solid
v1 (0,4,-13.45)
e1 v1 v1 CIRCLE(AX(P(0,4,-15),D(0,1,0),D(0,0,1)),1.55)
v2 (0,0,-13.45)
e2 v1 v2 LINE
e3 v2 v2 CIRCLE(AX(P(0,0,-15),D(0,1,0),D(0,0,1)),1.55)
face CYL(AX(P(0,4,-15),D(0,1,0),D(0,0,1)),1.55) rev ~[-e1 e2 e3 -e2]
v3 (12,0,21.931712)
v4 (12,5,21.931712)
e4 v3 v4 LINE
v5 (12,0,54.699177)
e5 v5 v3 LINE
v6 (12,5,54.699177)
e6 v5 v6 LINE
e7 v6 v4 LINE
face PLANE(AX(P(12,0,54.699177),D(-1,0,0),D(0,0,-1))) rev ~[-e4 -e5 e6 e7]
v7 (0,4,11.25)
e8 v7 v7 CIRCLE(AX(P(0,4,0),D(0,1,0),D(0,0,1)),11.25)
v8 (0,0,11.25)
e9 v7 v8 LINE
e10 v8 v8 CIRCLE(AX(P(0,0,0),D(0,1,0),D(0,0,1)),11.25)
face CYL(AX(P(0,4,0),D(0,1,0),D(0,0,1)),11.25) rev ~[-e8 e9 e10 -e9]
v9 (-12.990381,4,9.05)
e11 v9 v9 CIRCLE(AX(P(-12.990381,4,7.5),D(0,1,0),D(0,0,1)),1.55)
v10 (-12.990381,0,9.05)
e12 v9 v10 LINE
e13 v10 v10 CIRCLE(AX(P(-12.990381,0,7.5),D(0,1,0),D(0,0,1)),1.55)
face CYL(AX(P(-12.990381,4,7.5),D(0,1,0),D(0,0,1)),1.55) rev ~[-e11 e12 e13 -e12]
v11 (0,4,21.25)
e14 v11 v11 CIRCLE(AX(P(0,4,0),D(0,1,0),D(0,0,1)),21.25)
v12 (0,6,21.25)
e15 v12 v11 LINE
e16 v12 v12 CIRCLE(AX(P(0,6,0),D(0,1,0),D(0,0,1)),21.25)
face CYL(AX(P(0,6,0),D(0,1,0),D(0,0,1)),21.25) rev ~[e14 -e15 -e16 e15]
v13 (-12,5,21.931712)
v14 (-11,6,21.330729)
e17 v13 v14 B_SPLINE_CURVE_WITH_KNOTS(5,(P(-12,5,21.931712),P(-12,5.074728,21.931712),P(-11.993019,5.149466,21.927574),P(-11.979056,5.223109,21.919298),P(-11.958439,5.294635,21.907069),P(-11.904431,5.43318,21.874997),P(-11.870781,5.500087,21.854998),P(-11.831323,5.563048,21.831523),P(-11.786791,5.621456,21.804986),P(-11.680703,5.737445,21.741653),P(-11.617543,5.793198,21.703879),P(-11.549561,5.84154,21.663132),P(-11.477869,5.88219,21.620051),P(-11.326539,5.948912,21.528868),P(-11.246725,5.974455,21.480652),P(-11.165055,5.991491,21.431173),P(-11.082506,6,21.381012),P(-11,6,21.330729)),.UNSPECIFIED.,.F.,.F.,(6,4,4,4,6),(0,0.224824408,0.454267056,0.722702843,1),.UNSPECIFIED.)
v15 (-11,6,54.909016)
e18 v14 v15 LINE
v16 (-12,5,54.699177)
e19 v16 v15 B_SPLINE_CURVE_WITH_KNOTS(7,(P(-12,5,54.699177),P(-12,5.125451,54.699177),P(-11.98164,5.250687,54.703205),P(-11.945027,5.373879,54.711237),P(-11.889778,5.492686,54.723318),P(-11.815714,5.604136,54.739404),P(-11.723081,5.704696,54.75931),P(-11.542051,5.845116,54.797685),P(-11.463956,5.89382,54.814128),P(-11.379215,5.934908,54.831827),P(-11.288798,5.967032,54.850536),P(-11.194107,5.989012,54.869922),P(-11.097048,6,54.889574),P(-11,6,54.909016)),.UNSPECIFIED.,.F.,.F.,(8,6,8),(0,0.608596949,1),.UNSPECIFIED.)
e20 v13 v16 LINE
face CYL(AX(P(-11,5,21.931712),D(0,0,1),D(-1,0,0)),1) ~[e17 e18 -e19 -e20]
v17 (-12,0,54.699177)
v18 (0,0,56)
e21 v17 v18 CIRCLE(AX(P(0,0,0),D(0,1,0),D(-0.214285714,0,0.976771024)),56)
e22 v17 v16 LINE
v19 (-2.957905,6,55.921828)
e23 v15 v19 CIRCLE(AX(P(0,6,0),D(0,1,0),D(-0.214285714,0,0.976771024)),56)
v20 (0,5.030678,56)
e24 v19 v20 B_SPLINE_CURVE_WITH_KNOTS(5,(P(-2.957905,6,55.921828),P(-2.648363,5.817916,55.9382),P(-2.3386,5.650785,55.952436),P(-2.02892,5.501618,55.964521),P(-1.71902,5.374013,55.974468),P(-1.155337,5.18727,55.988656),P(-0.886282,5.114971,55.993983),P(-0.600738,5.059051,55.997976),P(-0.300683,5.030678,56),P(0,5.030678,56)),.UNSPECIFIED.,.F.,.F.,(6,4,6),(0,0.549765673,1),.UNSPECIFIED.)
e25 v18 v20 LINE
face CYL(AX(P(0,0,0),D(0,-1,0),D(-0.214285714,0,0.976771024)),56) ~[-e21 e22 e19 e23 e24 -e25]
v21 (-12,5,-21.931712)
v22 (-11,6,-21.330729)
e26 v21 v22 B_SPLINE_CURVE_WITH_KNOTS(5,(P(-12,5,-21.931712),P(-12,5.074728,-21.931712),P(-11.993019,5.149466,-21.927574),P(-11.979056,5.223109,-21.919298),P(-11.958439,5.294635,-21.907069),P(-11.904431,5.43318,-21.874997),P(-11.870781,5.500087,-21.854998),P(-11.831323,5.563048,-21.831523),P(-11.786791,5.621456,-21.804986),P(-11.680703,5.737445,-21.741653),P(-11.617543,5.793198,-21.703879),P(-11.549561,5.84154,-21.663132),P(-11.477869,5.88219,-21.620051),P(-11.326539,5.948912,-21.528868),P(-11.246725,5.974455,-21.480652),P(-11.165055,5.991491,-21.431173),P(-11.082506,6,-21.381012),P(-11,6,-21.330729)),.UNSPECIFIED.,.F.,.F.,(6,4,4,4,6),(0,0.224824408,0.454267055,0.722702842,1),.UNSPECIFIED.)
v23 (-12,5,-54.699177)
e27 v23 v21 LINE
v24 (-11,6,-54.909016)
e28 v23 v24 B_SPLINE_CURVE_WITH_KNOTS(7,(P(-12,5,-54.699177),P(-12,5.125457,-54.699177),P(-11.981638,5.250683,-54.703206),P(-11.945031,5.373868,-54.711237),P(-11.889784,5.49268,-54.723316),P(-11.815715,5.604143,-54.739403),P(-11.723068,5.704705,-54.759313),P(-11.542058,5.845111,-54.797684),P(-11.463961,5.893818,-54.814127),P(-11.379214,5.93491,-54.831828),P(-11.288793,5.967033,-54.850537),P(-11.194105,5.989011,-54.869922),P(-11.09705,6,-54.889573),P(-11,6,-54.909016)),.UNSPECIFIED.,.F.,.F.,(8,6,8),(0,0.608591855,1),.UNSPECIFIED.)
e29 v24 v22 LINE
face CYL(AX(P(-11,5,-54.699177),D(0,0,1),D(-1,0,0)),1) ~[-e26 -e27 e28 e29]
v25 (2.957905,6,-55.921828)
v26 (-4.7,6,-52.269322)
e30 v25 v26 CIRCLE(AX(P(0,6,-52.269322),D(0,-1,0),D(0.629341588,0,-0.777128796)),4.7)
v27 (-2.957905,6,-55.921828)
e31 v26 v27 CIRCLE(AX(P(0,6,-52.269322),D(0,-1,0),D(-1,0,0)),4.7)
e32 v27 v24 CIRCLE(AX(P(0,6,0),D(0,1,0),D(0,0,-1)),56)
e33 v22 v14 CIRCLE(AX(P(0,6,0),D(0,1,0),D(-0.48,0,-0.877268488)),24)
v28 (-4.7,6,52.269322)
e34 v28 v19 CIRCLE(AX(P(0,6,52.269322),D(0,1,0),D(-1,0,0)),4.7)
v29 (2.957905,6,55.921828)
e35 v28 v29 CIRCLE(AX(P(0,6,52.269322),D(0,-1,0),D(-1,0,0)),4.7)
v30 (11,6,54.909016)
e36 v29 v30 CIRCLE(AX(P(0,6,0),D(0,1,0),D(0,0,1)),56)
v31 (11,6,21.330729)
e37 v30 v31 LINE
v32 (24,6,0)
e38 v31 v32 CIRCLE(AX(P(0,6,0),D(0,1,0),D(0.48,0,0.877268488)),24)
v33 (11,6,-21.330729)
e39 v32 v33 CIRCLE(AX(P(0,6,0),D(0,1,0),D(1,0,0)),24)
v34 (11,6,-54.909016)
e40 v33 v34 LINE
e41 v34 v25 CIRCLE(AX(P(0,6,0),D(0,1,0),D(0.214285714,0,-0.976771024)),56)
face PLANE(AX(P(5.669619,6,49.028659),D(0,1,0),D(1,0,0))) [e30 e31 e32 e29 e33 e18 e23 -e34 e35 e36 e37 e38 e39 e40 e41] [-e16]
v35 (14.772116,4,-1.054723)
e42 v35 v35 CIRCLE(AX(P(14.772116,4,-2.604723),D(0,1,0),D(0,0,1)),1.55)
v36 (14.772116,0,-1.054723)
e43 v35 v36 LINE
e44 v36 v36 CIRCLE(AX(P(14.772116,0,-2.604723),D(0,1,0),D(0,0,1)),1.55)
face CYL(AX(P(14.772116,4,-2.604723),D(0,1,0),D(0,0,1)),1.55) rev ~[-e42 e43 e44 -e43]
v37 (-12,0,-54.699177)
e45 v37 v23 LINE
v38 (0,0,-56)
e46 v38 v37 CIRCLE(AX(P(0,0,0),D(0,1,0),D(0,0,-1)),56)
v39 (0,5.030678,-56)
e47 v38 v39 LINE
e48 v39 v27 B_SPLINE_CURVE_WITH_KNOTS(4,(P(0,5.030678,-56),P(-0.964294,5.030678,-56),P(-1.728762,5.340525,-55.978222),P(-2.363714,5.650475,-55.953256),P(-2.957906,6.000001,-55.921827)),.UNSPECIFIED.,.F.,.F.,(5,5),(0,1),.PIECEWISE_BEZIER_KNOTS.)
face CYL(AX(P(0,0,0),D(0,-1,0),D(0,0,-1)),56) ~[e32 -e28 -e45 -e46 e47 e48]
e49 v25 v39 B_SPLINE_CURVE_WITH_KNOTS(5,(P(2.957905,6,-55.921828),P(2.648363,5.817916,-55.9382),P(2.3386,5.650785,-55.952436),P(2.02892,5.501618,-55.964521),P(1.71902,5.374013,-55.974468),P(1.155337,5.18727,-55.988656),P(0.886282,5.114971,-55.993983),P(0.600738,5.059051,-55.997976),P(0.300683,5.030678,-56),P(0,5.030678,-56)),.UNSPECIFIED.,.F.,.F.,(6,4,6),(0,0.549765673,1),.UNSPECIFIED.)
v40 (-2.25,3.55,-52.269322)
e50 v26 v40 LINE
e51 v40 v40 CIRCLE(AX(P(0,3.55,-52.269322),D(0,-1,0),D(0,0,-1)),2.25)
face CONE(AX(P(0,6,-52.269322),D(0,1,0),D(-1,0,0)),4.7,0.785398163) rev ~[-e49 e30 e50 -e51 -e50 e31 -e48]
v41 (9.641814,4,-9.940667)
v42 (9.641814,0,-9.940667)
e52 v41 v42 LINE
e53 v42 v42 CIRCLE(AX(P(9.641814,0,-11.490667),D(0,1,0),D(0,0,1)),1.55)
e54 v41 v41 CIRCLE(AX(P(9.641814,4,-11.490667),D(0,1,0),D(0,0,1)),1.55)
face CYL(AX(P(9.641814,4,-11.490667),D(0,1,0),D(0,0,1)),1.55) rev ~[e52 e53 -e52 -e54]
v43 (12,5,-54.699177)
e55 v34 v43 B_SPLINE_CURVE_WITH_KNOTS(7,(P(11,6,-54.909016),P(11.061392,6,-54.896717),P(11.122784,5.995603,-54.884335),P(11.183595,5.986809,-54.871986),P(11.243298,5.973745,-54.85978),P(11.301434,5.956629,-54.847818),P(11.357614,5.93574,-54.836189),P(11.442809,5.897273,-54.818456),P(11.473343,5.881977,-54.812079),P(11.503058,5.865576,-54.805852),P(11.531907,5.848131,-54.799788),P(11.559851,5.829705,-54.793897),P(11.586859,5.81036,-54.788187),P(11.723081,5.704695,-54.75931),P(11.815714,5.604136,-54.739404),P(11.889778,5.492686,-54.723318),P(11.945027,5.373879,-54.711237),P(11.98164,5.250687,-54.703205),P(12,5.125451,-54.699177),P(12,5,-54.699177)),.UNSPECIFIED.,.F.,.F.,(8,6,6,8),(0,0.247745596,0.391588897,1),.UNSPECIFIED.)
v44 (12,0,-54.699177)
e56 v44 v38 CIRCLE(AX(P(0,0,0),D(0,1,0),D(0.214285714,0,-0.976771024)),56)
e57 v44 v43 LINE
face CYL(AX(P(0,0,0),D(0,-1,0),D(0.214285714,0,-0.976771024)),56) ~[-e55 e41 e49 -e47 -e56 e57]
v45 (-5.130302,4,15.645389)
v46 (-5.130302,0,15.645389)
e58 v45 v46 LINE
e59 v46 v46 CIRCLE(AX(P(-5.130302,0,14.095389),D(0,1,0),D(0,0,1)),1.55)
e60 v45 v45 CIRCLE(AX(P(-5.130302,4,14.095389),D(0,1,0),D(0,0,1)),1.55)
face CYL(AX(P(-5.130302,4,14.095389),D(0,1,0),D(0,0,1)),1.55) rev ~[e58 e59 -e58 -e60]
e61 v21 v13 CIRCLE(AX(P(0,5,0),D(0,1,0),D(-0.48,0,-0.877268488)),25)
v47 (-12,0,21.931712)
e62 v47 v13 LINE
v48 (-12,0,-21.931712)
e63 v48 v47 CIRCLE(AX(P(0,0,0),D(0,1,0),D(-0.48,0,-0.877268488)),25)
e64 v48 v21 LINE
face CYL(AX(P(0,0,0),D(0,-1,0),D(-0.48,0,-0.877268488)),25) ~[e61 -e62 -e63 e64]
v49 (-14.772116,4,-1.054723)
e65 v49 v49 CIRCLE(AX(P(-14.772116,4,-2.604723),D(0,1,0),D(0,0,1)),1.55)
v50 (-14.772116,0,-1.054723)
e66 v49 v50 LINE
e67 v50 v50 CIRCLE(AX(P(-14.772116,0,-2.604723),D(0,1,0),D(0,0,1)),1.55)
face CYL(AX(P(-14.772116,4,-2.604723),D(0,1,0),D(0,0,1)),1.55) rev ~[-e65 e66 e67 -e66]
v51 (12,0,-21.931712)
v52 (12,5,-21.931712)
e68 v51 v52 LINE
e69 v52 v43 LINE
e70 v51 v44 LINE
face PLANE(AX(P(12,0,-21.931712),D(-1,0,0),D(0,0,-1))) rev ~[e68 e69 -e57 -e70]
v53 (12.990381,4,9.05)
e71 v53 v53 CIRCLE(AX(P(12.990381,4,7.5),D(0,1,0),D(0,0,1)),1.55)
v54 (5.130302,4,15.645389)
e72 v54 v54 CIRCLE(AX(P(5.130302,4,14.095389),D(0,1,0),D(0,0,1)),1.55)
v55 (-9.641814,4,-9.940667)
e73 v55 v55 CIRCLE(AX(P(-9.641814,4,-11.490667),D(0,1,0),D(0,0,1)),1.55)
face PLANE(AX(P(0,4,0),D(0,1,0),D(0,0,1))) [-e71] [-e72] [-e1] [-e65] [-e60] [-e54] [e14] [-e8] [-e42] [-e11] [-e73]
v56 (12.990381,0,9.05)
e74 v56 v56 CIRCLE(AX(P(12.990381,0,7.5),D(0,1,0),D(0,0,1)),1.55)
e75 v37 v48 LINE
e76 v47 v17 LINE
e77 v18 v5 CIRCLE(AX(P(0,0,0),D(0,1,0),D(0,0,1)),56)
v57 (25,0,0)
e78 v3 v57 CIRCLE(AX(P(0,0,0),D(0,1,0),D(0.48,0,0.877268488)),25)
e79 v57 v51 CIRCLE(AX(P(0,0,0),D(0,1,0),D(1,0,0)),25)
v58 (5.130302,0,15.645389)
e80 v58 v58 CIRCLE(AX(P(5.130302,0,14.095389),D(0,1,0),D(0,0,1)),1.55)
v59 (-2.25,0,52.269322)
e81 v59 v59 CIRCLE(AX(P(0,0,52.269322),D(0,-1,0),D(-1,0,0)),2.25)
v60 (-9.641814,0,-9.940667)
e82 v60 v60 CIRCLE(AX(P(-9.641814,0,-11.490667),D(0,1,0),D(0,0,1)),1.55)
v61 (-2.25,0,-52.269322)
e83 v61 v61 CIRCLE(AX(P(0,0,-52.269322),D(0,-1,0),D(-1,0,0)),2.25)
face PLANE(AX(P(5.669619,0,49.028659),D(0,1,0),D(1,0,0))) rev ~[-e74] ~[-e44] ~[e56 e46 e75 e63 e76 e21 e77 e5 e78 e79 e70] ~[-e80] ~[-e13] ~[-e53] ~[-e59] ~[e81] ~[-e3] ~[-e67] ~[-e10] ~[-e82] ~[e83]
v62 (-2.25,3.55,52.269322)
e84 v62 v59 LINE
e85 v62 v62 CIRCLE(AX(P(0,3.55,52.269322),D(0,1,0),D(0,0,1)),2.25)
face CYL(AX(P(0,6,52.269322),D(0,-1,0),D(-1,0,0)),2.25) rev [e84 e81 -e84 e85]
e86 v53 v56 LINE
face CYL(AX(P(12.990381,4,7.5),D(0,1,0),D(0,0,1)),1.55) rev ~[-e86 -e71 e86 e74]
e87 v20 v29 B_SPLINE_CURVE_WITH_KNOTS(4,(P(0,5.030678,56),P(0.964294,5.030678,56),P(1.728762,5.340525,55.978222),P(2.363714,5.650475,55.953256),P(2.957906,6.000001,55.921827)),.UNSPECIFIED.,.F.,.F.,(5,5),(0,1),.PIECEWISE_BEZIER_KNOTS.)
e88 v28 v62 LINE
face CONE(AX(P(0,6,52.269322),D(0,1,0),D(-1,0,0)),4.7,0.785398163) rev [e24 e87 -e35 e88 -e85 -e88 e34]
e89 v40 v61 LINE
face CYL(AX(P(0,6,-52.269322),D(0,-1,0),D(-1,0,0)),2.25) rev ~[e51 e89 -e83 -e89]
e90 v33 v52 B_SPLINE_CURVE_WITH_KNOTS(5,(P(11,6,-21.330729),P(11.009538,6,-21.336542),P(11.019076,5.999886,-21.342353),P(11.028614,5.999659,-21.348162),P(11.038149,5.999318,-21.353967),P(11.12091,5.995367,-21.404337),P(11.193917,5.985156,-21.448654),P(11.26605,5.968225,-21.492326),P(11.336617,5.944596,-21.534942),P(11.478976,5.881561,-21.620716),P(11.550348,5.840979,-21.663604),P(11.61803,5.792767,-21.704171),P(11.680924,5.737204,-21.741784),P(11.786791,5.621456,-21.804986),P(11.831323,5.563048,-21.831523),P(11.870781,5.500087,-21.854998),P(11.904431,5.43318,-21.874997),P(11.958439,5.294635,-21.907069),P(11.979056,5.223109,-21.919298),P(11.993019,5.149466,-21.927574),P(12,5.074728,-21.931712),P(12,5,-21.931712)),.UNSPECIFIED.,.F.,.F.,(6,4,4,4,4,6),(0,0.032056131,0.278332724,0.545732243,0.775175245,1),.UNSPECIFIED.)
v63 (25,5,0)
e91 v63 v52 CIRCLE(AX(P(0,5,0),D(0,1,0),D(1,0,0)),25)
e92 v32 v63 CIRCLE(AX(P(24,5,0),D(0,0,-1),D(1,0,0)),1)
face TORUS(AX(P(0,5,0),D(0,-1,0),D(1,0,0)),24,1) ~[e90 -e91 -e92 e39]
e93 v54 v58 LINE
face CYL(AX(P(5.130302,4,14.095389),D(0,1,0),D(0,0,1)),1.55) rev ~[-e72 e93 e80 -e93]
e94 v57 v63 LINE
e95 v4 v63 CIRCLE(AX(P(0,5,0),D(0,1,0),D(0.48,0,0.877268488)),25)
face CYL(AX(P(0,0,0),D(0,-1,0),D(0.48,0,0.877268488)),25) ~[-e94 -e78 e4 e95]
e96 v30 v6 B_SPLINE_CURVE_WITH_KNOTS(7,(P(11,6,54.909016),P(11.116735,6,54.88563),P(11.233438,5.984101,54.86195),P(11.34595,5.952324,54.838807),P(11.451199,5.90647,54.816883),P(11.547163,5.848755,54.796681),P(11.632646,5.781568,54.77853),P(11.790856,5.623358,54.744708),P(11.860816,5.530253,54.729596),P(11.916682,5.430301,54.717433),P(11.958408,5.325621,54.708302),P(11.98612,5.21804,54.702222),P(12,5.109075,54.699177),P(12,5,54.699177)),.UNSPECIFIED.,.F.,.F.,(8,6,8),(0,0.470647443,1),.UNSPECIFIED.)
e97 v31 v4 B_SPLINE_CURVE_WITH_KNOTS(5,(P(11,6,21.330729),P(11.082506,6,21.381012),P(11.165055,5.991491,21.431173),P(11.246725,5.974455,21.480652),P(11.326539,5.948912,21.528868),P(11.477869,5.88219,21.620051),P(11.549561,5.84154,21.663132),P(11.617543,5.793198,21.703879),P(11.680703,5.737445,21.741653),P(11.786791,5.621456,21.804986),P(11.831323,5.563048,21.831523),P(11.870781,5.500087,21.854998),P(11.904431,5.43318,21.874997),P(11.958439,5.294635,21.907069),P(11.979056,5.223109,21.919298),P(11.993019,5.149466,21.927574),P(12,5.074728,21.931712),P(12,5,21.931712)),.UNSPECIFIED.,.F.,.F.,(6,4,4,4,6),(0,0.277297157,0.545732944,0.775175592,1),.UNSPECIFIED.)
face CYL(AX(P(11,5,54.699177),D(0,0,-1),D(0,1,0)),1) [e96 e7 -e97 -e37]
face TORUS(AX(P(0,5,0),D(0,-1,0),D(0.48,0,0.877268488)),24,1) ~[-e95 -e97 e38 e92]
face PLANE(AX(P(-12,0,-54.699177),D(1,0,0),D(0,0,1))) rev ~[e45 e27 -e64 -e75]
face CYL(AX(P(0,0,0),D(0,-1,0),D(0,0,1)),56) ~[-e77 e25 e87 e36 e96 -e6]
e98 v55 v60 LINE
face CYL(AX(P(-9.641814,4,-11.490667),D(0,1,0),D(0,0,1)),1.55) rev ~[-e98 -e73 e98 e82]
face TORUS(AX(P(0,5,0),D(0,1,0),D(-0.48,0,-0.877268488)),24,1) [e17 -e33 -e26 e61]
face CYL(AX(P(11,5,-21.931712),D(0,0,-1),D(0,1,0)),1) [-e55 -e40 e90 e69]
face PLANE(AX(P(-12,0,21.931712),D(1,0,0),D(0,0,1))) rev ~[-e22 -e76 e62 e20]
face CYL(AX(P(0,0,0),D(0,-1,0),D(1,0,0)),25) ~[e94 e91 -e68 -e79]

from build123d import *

# Parameters (mm, degrees)
BOSS_EXTRUDE2_DEPTH                             = 6
CSK_FOR_M4_FLAT_HEAD_MACHINE_SCREW1_D           = 4.5
CSK_FOR_M4_FLAT_HEAD_MACHINE_SCREW1_CSINK_D     = 9.4
CSK_FOR_M4_FLAT_HEAD_MACHINE_SCREW1_CSINK_ANGLE = 90
SKETCH7_R                                       = 21.25
CUT_EXTRUDE2_DEPTH                              = 2
SKETCH8_R                                       = 11.25
CUT_EXTRUDE3_DEPTH                              = 62.457302349
SKETCH9_R                                       = 1.55
CUT_EXTRUDE4_DEPTH                              = 62.457302349
FILLET1_R                                       = 1


with BuildPart() as part:
    # Sketch2 → Boss-Extrude2 (new body)
    with BuildSketch(Plane(origin=(0, 0, 0), x_dir=(1, 0, 0), z_dir=(0, 1, 0))):
        with BuildLine():
            ThreePointArc((0, -50), (-6.044327096, -49.633316532), (-12, -48.538644398))
            Line((-12, -48.538644398), (-12, -54.699177325))
            ThreePointArc((-12, -54.699177325), (-6.035149949, -55.673844533), (0, -56))
            Line((0, -56), (0, -54.269322199))
            ThreePointArc((0, -54.269322199), (-2, -52.269322199), (0, -50.269322199))
            Line((0, -50.269322199), (0, -50))
        make_face()
        with BuildLine():
            ThreePointArc((2, -52.269322199), (1.414213562, -50.855108637), (0, -50.269322199))
            Line((0, -50.269322199), (0, -54.269322199))
            ThreePointArc((0, -54.269322199), (1.414213562, -53.683535761), (2, -52.269322199))
        make_face()
        with BuildLine():
            Line((0, -54.269322199), (0, -50.269322199))
            ThreePointArc((0, -50.269322199), (-2, -52.269322199), (0, -54.269322199))
        make_face()
        with BuildLine():
            ThreePointArc((2, -52.269322199), (1.414213562, -50.855108637), (0, -50.269322199))
            Line((0, -50.269322199), (0, -54.269322199))
            ThreePointArc((0, -54.269322199), (1.414213562, -53.683535761), (2, -52.269322199))
        make_face()
        with BuildLine():
            Line((0, -54.269322199), (0, -50.269322199))
            ThreePointArc((0, -50.269322199), (-2, -52.269322199), (0, -54.269322199))
        make_face()
        with BuildLine():
            Line((12, -54.699177325), (12, -48.538644398))
            ThreePointArc((12, -48.538644398), (6.044327096, -49.633316532), (0, -50))
            Line((0, -50), (0, -50.269322199))
            ThreePointArc((0, -50.269322199), (1.414213562, -50.855108637), (2, -52.269322199))
            ThreePointArc((2, -52.269322199), (1.414213562, -53.683535761), (0, -54.269322199))
            Line((0, -54.269322199), (0, -56))
            ThreePointArc((0, -56), (6.035149949, -55.673844533), (12, -54.699177325))
        make_face()
        with BuildLine():
            Line((0, -48.538644398), (-12, -48.538644398))
            ThreePointArc((-12, -48.538644398), (-6.044327096, -49.633316532), (0, -50))
            Line((0, -50), (0, -48.538644398))
        make_face()
        with BuildLine():
            Line((12, -48.538644398), (0, -48.538644398))
            Line((0, -48.538644398), (0, -50))
            ThreePointArc((0, -50), (6.044327096, -49.633316532), (12, -48.538644398))
        make_face()
        with BuildLine():
            ThreePointArc((0, -25), (-6.193028137, -24.220784514), (-12, -21.931712199))
            Line((-12, -21.931712199), (-12, -48.538644398))
            Line((-12, -48.538644398), (0, -48.538644398))
            Line((0, -48.538644398), (0, -25))
        make_face()
        with BuildLine():
            ThreePointArc((12, -21.931712199), (6.193028137, -24.220784514), (0, -25))
            Line((0, -25), (0, -48.538644398))
            Line((0, -48.538644398), (12, -48.538644398))
            Line((12, -48.538644398), (12, -21.931712199))
        make_face()
        with BuildLine():
            Line((0, -48.538644398), (-12, -48.538644398))
            ThreePointArc((-12, -48.538644398), (-6.044327096, -49.633316532), (0, -50))
            Line((0, -50), (0, -48.538644398))
        make_face()
        with BuildLine():
            Line((12, -48.538644398), (0, -48.538644398))
            Line((0, -48.538644398), (0, -50))
            ThreePointArc((0, -50), (6.044327096, -49.633316532), (12, -48.538644398))
        make_face()
        with BuildLine():
            ThreePointArc((-12, 48.538644398), (-6.044327096, 49.633316532), (0, 50))
            Line((0, 50), (0, 50.269322199))
            ThreePointArc((0, 50.269322199), (-2, 52.269322199), (0, 54.269322199))
            Line((0, 54.269322199), (0, 56))
            ThreePointArc((0, 56), (-6.035149949, 55.673844533), (-12, 54.699177325))
            Line((-12, 54.699177325), (-12, 48.538644398))
        make_face()
        with BuildLine():
            ThreePointArc((0, 54.269322199), (-2, 52.269322199), (0, 50.269322199))
            Line((0, 50.269322199), (0, 54.269322199))
        make_face()
        with BuildLine():
            Line((0, 54.269322199), (0, 50.269322199))
            ThreePointArc((0, 50.269322199), (1.414213562, 50.855108637), (2, 52.269322199))
            ThreePointArc((2, 52.269322199), (1.414213562, 53.683535761), (0, 54.269322199))
        make_face()
        with BuildLine():
            ThreePointArc((0, 54.269322199), (-2, 52.269322199), (0, 50.269322199))
            Line((0, 50.269322199), (0, 54.269322199))
        make_face()
        with BuildLine():
            Line((0, 54.269322199), (0, 50.269322199))
            ThreePointArc((0, 50.269322199), (1.414213562, 50.855108637), (2, 52.269322199))
            ThreePointArc((2, 52.269322199), (1.414213562, 53.683535761), (0, 54.269322199))
        make_face()
        with BuildLine():
            Line((0, 50.269322199), (0, 50))
            ThreePointArc((0, 50), (6.044327096, 49.633316532), (12, 48.538644398))
            Line((12, 48.538644398), (12, 54.699177325))
            ThreePointArc((12, 54.699177325), (6.035149949, 55.673844533), (0, 56))
            Line((0, 56), (0, 54.269322199))
            ThreePointArc((0, 54.269322199), (1.414213562, 53.683535761), (2, 52.269322199))
            ThreePointArc((2, 52.269322199), (1.414213562, 50.855108637), (0, 50.269322199))
        make_face()
        with BuildLine():
            Line((-12, 48.538644398), (0, 48.538644398))
            Line((0, 48.538644398), (0, 50))
            ThreePointArc((0, 50), (-6.044327096, 49.633316532), (-12, 48.538644398))
        make_face()
        with BuildLine():
            Line((0, 50), (0, 48.538644398))
            Line((0, 48.538644398), (12, 48.538644398))
            ThreePointArc((12, 48.538644398), (6.044327096, 49.633316532), (0, 50))
        make_face()
        with BuildLine():
            Line((-12, 48.538644398), (0, 48.538644398))
            Line((0, 48.538644398), (0, 50))
            ThreePointArc((0, 50), (-6.044327096, 49.633316532), (-12, 48.538644398))
        make_face()
        with BuildLine():
            Line((0, 50), (0, 48.538644398))
            Line((0, 48.538644398), (12, 48.538644398))
            ThreePointArc((12, 48.538644398), (6.044327096, 49.633316532), (0, 50))
        make_face()
        with BuildLine():
            Line((0, 25), (0, 48.538644398))
            Line((0, 48.538644398), (-12, 48.538644398))
            Line((-12, 48.538644398), (-12, 21.931712199))
            ThreePointArc((-12, 21.931712199), (-6.193028137, 24.220784514), (0, 25))
        make_face()
        with BuildLine():
            Line((12, 48.538644398), (0, 48.538644398))
            Line((0, 48.538644398), (0, 25))
            ThreePointArc((0, 25), (6.193028137, 24.220784514), (12, 21.931712199))
            Line((12, 21.931712199), (12, 48.538644398))
        make_face()
        with BuildLine():
            ThreePointArc((12, 21.931712199), (6.193028137, 24.220784514), (0, 25))
            Line((0, 25), (0, 21.25))
            ThreePointArc((0, 21.25), (15.0260191, 15.0260191), (21.25, 0))
            ThreePointArc((21.25, 0), (15.0260191, -15.0260191), (0, -21.25))
            Line((0, -21.25), (0, -25))
            ThreePointArc((0, -25), (6.193028137, -24.220784514), (12, -21.931712199))
            ThreePointArc((12, -21.931712199), (21.505813168, -12.747548784), (25, 0))
            ThreePointArc((25, 0), (21.505813168, 12.747548784), (12, 21.931712199))
        make_face()
        with BuildLine():
            Line((0, 21.25), (0, 25))
            ThreePointArc((0, 25), (-6.193028137, 24.220784514), (-12, 21.931712199))
            ThreePointArc((-12, 21.931712199), (-25, 0), (-12, -21.931712199))
            ThreePointArc((-12, -21.931712199), (-6.193028137, -24.220784514), (0, -25))
            Line((0, -25), (0, -21.25))
            ThreePointArc((0, -21.25), (-21.25, 0), (0, 21.25))
        make_face()
        with BuildLine():
            ThreePointArc((21.25, 0), (15.0260191, 15.0260191), (0, 21.25))
            Line((0, 21.25), (0, 0))
            Line((0, 0), (0, -21.25))
            ThreePointArc((0, -21.25), (15.0260191, -15.0260191), (21.25, 0))
        make_face()
        with BuildLine():
            Line((0, 0), (0, 21.25))
            ThreePointArc((0, 21.25), (-21.25, 0), (0, -21.25))
            Line((0, -21.25), (0, 0))
        make_face()
        with BuildLine():
            ThreePointArc((21.25, 0), (15.0260191, 15.0260191), (0, 21.25))
            Line((0, 21.25), (0, 0))
            Line((0, 0), (0, -21.25))
            ThreePointArc((0, -21.25), (15.0260191, -15.0260191), (21.25, 0))
        make_face()
        with BuildLine():
            Line((0, 0), (0, 21.25))
            ThreePointArc((0, 21.25), (-21.25, 0), (0, -21.25))
            Line((0, -21.25), (0, 0))
        make_face()
        with BuildLine():
            ThreePointArc((12, 21.931712199), (6.193028137, 24.220784514), (0, 25))
            Line((0, 25), (0, 21.25))
            ThreePointArc((0, 21.25), (15.0260191, 15.0260191), (21.25, 0))
            ThreePointArc((21.25, 0), (15.0260191, -15.0260191), (0, -21.25))
            Line((0, -21.25), (0, -25))
            ThreePointArc((0, -25), (6.193028137, -24.220784514), (12, -21.931712199))
            ThreePointArc((12, -21.931712199), (21.505813168, -12.747548784), (25, 0))
            ThreePointArc((25, 0), (21.505813168, 12.747548784), (12, 21.931712199))
        make_face()
        with BuildLine():
            Line((0, 21.25), (0, 25))
            ThreePointArc((0, 25), (-6.193028137, 24.220784514), (-12, 21.931712199))
            ThreePointArc((-12, 21.931712199), (-25, 0), (-12, -21.931712199))
            ThreePointArc((-12, -21.931712199), (-6.193028137, -24.220784514), (0, -25))
            Line((0, -25), (0, -21.25))
            ThreePointArc((0, -21.25), (-21.25, 0), (0, 21.25))
        make_face()
    extrude(amount=BOSS_EXTRUDE2_DEPTH)

    # CSK for M4 Flat Head Machine Screw1 (through all)
    with Locations(Plane(origin=(0, 6, 0), x_dir=(1, 0, 0), z_dir=(0, 1, 0))):
        with Locations((0, 52.269322197)):
            csk_for_m4_flat_head_machine_screw1 = CounterSinkHole(CSK_FOR_M4_FLAT_HEAD_MACHINE_SCREW1_D / 2, CSK_FOR_M4_FLAT_HEAD_MACHINE_SCREW1_CSINK_D / 2, counter_sink_angle=CSK_FOR_M4_FLAT_HEAD_MACHINE_SCREW1_CSINK_ANGLE)

    # Mirror1: CSK for M4 Flat Head Machine Screw1 across plane
    add(csk_for_m4_flat_head_machine_screw1.mirror(Plane.XY), mode=Mode.SUBTRACT)

    # Sketch7 → Cut-Extrude2 (cut)
    with BuildSketch(Plane(origin=(0, 6, 0), x_dir=(1, 0, 0), z_dir=(0, 1, 0))):
        with Locations(Location((0, 0, 0), (0, 0, 270))):
            Circle(SKETCH7_R)
    extrude(amount=-CUT_EXTRUDE2_DEPTH, mode=Mode.SUBTRACT)

    # Sketch8 → Cut-Extrude3 (cut, through all)
    with BuildSketch(Plane(origin=(0, 4, 0), x_dir=(1, 0, 0), z_dir=(0, 1, 0))):
        with Locations(Location((0, 0, 0), (0, 0, 270))):
            Circle(SKETCH8_R)
    extrude(amount=-CUT_EXTRUDE3_DEPTH, mode=Mode.SUBTRACT)

    # Sketch9 → Cut-Extrude4 (cut, through all)
    with BuildSketch(Plane(origin=(0, 4, 0), x_dir=(1, 0, 0), z_dir=(0, 1, 0))):
        with Locations(Location((0, 15, 0), (0, 0, 270))):
            Circle(SKETCH9_R)
        with Locations(Location((9.641814145, 11.490666647, 0), (0, 0, 270))):
            Circle(SKETCH9_R)
        with Locations(Location((14.772116295, 2.604722665, 0), (0, 0, 270))):
            Circle(SKETCH9_R)
        with Locations(Location((12.990381057, -7.5, 0), (0, 0, 270))):
            Circle(SKETCH9_R)
        with Locations(Location((5.13030215, -14.095389312, 0), (0, 0, 270))):
            Circle(SKETCH9_R)
        with Locations(Location((-5.13030215, -14.095389312, 0), (0, 0, 270))):
            Circle(SKETCH9_R)
        with Locations(Location((-12.990381057, -7.5, 0), (0, 0, 270))):
            Circle(SKETCH9_R)
        with Locations(Location((-14.772116295, 2.604722665, 0), (0, 0, 270))):
            Circle(SKETCH9_R)
        with Locations(Location((-9.641814145, 11.490666647, 0), (0, 0, 270))):
            Circle(SKETCH9_R)
    extrude(amount=-CUT_EXTRUDE4_DEPTH, mode=Mode.SUBTRACT)

    # Fillet1
    fillet1_edges = [part.edges().sort_by_distance(p)[0] for p in [
        (-12, 6, -38.315444762),
        (-25, 6, 0),
        (-12, 6, 38.315444762),
        (12, 6, 38.315444762),
        (25, 6, 0),
        (12, 6, -38.315444762),
    ]]
    fillet(fillet1_edges, radius=FILLET1_R)


solid = part.part
